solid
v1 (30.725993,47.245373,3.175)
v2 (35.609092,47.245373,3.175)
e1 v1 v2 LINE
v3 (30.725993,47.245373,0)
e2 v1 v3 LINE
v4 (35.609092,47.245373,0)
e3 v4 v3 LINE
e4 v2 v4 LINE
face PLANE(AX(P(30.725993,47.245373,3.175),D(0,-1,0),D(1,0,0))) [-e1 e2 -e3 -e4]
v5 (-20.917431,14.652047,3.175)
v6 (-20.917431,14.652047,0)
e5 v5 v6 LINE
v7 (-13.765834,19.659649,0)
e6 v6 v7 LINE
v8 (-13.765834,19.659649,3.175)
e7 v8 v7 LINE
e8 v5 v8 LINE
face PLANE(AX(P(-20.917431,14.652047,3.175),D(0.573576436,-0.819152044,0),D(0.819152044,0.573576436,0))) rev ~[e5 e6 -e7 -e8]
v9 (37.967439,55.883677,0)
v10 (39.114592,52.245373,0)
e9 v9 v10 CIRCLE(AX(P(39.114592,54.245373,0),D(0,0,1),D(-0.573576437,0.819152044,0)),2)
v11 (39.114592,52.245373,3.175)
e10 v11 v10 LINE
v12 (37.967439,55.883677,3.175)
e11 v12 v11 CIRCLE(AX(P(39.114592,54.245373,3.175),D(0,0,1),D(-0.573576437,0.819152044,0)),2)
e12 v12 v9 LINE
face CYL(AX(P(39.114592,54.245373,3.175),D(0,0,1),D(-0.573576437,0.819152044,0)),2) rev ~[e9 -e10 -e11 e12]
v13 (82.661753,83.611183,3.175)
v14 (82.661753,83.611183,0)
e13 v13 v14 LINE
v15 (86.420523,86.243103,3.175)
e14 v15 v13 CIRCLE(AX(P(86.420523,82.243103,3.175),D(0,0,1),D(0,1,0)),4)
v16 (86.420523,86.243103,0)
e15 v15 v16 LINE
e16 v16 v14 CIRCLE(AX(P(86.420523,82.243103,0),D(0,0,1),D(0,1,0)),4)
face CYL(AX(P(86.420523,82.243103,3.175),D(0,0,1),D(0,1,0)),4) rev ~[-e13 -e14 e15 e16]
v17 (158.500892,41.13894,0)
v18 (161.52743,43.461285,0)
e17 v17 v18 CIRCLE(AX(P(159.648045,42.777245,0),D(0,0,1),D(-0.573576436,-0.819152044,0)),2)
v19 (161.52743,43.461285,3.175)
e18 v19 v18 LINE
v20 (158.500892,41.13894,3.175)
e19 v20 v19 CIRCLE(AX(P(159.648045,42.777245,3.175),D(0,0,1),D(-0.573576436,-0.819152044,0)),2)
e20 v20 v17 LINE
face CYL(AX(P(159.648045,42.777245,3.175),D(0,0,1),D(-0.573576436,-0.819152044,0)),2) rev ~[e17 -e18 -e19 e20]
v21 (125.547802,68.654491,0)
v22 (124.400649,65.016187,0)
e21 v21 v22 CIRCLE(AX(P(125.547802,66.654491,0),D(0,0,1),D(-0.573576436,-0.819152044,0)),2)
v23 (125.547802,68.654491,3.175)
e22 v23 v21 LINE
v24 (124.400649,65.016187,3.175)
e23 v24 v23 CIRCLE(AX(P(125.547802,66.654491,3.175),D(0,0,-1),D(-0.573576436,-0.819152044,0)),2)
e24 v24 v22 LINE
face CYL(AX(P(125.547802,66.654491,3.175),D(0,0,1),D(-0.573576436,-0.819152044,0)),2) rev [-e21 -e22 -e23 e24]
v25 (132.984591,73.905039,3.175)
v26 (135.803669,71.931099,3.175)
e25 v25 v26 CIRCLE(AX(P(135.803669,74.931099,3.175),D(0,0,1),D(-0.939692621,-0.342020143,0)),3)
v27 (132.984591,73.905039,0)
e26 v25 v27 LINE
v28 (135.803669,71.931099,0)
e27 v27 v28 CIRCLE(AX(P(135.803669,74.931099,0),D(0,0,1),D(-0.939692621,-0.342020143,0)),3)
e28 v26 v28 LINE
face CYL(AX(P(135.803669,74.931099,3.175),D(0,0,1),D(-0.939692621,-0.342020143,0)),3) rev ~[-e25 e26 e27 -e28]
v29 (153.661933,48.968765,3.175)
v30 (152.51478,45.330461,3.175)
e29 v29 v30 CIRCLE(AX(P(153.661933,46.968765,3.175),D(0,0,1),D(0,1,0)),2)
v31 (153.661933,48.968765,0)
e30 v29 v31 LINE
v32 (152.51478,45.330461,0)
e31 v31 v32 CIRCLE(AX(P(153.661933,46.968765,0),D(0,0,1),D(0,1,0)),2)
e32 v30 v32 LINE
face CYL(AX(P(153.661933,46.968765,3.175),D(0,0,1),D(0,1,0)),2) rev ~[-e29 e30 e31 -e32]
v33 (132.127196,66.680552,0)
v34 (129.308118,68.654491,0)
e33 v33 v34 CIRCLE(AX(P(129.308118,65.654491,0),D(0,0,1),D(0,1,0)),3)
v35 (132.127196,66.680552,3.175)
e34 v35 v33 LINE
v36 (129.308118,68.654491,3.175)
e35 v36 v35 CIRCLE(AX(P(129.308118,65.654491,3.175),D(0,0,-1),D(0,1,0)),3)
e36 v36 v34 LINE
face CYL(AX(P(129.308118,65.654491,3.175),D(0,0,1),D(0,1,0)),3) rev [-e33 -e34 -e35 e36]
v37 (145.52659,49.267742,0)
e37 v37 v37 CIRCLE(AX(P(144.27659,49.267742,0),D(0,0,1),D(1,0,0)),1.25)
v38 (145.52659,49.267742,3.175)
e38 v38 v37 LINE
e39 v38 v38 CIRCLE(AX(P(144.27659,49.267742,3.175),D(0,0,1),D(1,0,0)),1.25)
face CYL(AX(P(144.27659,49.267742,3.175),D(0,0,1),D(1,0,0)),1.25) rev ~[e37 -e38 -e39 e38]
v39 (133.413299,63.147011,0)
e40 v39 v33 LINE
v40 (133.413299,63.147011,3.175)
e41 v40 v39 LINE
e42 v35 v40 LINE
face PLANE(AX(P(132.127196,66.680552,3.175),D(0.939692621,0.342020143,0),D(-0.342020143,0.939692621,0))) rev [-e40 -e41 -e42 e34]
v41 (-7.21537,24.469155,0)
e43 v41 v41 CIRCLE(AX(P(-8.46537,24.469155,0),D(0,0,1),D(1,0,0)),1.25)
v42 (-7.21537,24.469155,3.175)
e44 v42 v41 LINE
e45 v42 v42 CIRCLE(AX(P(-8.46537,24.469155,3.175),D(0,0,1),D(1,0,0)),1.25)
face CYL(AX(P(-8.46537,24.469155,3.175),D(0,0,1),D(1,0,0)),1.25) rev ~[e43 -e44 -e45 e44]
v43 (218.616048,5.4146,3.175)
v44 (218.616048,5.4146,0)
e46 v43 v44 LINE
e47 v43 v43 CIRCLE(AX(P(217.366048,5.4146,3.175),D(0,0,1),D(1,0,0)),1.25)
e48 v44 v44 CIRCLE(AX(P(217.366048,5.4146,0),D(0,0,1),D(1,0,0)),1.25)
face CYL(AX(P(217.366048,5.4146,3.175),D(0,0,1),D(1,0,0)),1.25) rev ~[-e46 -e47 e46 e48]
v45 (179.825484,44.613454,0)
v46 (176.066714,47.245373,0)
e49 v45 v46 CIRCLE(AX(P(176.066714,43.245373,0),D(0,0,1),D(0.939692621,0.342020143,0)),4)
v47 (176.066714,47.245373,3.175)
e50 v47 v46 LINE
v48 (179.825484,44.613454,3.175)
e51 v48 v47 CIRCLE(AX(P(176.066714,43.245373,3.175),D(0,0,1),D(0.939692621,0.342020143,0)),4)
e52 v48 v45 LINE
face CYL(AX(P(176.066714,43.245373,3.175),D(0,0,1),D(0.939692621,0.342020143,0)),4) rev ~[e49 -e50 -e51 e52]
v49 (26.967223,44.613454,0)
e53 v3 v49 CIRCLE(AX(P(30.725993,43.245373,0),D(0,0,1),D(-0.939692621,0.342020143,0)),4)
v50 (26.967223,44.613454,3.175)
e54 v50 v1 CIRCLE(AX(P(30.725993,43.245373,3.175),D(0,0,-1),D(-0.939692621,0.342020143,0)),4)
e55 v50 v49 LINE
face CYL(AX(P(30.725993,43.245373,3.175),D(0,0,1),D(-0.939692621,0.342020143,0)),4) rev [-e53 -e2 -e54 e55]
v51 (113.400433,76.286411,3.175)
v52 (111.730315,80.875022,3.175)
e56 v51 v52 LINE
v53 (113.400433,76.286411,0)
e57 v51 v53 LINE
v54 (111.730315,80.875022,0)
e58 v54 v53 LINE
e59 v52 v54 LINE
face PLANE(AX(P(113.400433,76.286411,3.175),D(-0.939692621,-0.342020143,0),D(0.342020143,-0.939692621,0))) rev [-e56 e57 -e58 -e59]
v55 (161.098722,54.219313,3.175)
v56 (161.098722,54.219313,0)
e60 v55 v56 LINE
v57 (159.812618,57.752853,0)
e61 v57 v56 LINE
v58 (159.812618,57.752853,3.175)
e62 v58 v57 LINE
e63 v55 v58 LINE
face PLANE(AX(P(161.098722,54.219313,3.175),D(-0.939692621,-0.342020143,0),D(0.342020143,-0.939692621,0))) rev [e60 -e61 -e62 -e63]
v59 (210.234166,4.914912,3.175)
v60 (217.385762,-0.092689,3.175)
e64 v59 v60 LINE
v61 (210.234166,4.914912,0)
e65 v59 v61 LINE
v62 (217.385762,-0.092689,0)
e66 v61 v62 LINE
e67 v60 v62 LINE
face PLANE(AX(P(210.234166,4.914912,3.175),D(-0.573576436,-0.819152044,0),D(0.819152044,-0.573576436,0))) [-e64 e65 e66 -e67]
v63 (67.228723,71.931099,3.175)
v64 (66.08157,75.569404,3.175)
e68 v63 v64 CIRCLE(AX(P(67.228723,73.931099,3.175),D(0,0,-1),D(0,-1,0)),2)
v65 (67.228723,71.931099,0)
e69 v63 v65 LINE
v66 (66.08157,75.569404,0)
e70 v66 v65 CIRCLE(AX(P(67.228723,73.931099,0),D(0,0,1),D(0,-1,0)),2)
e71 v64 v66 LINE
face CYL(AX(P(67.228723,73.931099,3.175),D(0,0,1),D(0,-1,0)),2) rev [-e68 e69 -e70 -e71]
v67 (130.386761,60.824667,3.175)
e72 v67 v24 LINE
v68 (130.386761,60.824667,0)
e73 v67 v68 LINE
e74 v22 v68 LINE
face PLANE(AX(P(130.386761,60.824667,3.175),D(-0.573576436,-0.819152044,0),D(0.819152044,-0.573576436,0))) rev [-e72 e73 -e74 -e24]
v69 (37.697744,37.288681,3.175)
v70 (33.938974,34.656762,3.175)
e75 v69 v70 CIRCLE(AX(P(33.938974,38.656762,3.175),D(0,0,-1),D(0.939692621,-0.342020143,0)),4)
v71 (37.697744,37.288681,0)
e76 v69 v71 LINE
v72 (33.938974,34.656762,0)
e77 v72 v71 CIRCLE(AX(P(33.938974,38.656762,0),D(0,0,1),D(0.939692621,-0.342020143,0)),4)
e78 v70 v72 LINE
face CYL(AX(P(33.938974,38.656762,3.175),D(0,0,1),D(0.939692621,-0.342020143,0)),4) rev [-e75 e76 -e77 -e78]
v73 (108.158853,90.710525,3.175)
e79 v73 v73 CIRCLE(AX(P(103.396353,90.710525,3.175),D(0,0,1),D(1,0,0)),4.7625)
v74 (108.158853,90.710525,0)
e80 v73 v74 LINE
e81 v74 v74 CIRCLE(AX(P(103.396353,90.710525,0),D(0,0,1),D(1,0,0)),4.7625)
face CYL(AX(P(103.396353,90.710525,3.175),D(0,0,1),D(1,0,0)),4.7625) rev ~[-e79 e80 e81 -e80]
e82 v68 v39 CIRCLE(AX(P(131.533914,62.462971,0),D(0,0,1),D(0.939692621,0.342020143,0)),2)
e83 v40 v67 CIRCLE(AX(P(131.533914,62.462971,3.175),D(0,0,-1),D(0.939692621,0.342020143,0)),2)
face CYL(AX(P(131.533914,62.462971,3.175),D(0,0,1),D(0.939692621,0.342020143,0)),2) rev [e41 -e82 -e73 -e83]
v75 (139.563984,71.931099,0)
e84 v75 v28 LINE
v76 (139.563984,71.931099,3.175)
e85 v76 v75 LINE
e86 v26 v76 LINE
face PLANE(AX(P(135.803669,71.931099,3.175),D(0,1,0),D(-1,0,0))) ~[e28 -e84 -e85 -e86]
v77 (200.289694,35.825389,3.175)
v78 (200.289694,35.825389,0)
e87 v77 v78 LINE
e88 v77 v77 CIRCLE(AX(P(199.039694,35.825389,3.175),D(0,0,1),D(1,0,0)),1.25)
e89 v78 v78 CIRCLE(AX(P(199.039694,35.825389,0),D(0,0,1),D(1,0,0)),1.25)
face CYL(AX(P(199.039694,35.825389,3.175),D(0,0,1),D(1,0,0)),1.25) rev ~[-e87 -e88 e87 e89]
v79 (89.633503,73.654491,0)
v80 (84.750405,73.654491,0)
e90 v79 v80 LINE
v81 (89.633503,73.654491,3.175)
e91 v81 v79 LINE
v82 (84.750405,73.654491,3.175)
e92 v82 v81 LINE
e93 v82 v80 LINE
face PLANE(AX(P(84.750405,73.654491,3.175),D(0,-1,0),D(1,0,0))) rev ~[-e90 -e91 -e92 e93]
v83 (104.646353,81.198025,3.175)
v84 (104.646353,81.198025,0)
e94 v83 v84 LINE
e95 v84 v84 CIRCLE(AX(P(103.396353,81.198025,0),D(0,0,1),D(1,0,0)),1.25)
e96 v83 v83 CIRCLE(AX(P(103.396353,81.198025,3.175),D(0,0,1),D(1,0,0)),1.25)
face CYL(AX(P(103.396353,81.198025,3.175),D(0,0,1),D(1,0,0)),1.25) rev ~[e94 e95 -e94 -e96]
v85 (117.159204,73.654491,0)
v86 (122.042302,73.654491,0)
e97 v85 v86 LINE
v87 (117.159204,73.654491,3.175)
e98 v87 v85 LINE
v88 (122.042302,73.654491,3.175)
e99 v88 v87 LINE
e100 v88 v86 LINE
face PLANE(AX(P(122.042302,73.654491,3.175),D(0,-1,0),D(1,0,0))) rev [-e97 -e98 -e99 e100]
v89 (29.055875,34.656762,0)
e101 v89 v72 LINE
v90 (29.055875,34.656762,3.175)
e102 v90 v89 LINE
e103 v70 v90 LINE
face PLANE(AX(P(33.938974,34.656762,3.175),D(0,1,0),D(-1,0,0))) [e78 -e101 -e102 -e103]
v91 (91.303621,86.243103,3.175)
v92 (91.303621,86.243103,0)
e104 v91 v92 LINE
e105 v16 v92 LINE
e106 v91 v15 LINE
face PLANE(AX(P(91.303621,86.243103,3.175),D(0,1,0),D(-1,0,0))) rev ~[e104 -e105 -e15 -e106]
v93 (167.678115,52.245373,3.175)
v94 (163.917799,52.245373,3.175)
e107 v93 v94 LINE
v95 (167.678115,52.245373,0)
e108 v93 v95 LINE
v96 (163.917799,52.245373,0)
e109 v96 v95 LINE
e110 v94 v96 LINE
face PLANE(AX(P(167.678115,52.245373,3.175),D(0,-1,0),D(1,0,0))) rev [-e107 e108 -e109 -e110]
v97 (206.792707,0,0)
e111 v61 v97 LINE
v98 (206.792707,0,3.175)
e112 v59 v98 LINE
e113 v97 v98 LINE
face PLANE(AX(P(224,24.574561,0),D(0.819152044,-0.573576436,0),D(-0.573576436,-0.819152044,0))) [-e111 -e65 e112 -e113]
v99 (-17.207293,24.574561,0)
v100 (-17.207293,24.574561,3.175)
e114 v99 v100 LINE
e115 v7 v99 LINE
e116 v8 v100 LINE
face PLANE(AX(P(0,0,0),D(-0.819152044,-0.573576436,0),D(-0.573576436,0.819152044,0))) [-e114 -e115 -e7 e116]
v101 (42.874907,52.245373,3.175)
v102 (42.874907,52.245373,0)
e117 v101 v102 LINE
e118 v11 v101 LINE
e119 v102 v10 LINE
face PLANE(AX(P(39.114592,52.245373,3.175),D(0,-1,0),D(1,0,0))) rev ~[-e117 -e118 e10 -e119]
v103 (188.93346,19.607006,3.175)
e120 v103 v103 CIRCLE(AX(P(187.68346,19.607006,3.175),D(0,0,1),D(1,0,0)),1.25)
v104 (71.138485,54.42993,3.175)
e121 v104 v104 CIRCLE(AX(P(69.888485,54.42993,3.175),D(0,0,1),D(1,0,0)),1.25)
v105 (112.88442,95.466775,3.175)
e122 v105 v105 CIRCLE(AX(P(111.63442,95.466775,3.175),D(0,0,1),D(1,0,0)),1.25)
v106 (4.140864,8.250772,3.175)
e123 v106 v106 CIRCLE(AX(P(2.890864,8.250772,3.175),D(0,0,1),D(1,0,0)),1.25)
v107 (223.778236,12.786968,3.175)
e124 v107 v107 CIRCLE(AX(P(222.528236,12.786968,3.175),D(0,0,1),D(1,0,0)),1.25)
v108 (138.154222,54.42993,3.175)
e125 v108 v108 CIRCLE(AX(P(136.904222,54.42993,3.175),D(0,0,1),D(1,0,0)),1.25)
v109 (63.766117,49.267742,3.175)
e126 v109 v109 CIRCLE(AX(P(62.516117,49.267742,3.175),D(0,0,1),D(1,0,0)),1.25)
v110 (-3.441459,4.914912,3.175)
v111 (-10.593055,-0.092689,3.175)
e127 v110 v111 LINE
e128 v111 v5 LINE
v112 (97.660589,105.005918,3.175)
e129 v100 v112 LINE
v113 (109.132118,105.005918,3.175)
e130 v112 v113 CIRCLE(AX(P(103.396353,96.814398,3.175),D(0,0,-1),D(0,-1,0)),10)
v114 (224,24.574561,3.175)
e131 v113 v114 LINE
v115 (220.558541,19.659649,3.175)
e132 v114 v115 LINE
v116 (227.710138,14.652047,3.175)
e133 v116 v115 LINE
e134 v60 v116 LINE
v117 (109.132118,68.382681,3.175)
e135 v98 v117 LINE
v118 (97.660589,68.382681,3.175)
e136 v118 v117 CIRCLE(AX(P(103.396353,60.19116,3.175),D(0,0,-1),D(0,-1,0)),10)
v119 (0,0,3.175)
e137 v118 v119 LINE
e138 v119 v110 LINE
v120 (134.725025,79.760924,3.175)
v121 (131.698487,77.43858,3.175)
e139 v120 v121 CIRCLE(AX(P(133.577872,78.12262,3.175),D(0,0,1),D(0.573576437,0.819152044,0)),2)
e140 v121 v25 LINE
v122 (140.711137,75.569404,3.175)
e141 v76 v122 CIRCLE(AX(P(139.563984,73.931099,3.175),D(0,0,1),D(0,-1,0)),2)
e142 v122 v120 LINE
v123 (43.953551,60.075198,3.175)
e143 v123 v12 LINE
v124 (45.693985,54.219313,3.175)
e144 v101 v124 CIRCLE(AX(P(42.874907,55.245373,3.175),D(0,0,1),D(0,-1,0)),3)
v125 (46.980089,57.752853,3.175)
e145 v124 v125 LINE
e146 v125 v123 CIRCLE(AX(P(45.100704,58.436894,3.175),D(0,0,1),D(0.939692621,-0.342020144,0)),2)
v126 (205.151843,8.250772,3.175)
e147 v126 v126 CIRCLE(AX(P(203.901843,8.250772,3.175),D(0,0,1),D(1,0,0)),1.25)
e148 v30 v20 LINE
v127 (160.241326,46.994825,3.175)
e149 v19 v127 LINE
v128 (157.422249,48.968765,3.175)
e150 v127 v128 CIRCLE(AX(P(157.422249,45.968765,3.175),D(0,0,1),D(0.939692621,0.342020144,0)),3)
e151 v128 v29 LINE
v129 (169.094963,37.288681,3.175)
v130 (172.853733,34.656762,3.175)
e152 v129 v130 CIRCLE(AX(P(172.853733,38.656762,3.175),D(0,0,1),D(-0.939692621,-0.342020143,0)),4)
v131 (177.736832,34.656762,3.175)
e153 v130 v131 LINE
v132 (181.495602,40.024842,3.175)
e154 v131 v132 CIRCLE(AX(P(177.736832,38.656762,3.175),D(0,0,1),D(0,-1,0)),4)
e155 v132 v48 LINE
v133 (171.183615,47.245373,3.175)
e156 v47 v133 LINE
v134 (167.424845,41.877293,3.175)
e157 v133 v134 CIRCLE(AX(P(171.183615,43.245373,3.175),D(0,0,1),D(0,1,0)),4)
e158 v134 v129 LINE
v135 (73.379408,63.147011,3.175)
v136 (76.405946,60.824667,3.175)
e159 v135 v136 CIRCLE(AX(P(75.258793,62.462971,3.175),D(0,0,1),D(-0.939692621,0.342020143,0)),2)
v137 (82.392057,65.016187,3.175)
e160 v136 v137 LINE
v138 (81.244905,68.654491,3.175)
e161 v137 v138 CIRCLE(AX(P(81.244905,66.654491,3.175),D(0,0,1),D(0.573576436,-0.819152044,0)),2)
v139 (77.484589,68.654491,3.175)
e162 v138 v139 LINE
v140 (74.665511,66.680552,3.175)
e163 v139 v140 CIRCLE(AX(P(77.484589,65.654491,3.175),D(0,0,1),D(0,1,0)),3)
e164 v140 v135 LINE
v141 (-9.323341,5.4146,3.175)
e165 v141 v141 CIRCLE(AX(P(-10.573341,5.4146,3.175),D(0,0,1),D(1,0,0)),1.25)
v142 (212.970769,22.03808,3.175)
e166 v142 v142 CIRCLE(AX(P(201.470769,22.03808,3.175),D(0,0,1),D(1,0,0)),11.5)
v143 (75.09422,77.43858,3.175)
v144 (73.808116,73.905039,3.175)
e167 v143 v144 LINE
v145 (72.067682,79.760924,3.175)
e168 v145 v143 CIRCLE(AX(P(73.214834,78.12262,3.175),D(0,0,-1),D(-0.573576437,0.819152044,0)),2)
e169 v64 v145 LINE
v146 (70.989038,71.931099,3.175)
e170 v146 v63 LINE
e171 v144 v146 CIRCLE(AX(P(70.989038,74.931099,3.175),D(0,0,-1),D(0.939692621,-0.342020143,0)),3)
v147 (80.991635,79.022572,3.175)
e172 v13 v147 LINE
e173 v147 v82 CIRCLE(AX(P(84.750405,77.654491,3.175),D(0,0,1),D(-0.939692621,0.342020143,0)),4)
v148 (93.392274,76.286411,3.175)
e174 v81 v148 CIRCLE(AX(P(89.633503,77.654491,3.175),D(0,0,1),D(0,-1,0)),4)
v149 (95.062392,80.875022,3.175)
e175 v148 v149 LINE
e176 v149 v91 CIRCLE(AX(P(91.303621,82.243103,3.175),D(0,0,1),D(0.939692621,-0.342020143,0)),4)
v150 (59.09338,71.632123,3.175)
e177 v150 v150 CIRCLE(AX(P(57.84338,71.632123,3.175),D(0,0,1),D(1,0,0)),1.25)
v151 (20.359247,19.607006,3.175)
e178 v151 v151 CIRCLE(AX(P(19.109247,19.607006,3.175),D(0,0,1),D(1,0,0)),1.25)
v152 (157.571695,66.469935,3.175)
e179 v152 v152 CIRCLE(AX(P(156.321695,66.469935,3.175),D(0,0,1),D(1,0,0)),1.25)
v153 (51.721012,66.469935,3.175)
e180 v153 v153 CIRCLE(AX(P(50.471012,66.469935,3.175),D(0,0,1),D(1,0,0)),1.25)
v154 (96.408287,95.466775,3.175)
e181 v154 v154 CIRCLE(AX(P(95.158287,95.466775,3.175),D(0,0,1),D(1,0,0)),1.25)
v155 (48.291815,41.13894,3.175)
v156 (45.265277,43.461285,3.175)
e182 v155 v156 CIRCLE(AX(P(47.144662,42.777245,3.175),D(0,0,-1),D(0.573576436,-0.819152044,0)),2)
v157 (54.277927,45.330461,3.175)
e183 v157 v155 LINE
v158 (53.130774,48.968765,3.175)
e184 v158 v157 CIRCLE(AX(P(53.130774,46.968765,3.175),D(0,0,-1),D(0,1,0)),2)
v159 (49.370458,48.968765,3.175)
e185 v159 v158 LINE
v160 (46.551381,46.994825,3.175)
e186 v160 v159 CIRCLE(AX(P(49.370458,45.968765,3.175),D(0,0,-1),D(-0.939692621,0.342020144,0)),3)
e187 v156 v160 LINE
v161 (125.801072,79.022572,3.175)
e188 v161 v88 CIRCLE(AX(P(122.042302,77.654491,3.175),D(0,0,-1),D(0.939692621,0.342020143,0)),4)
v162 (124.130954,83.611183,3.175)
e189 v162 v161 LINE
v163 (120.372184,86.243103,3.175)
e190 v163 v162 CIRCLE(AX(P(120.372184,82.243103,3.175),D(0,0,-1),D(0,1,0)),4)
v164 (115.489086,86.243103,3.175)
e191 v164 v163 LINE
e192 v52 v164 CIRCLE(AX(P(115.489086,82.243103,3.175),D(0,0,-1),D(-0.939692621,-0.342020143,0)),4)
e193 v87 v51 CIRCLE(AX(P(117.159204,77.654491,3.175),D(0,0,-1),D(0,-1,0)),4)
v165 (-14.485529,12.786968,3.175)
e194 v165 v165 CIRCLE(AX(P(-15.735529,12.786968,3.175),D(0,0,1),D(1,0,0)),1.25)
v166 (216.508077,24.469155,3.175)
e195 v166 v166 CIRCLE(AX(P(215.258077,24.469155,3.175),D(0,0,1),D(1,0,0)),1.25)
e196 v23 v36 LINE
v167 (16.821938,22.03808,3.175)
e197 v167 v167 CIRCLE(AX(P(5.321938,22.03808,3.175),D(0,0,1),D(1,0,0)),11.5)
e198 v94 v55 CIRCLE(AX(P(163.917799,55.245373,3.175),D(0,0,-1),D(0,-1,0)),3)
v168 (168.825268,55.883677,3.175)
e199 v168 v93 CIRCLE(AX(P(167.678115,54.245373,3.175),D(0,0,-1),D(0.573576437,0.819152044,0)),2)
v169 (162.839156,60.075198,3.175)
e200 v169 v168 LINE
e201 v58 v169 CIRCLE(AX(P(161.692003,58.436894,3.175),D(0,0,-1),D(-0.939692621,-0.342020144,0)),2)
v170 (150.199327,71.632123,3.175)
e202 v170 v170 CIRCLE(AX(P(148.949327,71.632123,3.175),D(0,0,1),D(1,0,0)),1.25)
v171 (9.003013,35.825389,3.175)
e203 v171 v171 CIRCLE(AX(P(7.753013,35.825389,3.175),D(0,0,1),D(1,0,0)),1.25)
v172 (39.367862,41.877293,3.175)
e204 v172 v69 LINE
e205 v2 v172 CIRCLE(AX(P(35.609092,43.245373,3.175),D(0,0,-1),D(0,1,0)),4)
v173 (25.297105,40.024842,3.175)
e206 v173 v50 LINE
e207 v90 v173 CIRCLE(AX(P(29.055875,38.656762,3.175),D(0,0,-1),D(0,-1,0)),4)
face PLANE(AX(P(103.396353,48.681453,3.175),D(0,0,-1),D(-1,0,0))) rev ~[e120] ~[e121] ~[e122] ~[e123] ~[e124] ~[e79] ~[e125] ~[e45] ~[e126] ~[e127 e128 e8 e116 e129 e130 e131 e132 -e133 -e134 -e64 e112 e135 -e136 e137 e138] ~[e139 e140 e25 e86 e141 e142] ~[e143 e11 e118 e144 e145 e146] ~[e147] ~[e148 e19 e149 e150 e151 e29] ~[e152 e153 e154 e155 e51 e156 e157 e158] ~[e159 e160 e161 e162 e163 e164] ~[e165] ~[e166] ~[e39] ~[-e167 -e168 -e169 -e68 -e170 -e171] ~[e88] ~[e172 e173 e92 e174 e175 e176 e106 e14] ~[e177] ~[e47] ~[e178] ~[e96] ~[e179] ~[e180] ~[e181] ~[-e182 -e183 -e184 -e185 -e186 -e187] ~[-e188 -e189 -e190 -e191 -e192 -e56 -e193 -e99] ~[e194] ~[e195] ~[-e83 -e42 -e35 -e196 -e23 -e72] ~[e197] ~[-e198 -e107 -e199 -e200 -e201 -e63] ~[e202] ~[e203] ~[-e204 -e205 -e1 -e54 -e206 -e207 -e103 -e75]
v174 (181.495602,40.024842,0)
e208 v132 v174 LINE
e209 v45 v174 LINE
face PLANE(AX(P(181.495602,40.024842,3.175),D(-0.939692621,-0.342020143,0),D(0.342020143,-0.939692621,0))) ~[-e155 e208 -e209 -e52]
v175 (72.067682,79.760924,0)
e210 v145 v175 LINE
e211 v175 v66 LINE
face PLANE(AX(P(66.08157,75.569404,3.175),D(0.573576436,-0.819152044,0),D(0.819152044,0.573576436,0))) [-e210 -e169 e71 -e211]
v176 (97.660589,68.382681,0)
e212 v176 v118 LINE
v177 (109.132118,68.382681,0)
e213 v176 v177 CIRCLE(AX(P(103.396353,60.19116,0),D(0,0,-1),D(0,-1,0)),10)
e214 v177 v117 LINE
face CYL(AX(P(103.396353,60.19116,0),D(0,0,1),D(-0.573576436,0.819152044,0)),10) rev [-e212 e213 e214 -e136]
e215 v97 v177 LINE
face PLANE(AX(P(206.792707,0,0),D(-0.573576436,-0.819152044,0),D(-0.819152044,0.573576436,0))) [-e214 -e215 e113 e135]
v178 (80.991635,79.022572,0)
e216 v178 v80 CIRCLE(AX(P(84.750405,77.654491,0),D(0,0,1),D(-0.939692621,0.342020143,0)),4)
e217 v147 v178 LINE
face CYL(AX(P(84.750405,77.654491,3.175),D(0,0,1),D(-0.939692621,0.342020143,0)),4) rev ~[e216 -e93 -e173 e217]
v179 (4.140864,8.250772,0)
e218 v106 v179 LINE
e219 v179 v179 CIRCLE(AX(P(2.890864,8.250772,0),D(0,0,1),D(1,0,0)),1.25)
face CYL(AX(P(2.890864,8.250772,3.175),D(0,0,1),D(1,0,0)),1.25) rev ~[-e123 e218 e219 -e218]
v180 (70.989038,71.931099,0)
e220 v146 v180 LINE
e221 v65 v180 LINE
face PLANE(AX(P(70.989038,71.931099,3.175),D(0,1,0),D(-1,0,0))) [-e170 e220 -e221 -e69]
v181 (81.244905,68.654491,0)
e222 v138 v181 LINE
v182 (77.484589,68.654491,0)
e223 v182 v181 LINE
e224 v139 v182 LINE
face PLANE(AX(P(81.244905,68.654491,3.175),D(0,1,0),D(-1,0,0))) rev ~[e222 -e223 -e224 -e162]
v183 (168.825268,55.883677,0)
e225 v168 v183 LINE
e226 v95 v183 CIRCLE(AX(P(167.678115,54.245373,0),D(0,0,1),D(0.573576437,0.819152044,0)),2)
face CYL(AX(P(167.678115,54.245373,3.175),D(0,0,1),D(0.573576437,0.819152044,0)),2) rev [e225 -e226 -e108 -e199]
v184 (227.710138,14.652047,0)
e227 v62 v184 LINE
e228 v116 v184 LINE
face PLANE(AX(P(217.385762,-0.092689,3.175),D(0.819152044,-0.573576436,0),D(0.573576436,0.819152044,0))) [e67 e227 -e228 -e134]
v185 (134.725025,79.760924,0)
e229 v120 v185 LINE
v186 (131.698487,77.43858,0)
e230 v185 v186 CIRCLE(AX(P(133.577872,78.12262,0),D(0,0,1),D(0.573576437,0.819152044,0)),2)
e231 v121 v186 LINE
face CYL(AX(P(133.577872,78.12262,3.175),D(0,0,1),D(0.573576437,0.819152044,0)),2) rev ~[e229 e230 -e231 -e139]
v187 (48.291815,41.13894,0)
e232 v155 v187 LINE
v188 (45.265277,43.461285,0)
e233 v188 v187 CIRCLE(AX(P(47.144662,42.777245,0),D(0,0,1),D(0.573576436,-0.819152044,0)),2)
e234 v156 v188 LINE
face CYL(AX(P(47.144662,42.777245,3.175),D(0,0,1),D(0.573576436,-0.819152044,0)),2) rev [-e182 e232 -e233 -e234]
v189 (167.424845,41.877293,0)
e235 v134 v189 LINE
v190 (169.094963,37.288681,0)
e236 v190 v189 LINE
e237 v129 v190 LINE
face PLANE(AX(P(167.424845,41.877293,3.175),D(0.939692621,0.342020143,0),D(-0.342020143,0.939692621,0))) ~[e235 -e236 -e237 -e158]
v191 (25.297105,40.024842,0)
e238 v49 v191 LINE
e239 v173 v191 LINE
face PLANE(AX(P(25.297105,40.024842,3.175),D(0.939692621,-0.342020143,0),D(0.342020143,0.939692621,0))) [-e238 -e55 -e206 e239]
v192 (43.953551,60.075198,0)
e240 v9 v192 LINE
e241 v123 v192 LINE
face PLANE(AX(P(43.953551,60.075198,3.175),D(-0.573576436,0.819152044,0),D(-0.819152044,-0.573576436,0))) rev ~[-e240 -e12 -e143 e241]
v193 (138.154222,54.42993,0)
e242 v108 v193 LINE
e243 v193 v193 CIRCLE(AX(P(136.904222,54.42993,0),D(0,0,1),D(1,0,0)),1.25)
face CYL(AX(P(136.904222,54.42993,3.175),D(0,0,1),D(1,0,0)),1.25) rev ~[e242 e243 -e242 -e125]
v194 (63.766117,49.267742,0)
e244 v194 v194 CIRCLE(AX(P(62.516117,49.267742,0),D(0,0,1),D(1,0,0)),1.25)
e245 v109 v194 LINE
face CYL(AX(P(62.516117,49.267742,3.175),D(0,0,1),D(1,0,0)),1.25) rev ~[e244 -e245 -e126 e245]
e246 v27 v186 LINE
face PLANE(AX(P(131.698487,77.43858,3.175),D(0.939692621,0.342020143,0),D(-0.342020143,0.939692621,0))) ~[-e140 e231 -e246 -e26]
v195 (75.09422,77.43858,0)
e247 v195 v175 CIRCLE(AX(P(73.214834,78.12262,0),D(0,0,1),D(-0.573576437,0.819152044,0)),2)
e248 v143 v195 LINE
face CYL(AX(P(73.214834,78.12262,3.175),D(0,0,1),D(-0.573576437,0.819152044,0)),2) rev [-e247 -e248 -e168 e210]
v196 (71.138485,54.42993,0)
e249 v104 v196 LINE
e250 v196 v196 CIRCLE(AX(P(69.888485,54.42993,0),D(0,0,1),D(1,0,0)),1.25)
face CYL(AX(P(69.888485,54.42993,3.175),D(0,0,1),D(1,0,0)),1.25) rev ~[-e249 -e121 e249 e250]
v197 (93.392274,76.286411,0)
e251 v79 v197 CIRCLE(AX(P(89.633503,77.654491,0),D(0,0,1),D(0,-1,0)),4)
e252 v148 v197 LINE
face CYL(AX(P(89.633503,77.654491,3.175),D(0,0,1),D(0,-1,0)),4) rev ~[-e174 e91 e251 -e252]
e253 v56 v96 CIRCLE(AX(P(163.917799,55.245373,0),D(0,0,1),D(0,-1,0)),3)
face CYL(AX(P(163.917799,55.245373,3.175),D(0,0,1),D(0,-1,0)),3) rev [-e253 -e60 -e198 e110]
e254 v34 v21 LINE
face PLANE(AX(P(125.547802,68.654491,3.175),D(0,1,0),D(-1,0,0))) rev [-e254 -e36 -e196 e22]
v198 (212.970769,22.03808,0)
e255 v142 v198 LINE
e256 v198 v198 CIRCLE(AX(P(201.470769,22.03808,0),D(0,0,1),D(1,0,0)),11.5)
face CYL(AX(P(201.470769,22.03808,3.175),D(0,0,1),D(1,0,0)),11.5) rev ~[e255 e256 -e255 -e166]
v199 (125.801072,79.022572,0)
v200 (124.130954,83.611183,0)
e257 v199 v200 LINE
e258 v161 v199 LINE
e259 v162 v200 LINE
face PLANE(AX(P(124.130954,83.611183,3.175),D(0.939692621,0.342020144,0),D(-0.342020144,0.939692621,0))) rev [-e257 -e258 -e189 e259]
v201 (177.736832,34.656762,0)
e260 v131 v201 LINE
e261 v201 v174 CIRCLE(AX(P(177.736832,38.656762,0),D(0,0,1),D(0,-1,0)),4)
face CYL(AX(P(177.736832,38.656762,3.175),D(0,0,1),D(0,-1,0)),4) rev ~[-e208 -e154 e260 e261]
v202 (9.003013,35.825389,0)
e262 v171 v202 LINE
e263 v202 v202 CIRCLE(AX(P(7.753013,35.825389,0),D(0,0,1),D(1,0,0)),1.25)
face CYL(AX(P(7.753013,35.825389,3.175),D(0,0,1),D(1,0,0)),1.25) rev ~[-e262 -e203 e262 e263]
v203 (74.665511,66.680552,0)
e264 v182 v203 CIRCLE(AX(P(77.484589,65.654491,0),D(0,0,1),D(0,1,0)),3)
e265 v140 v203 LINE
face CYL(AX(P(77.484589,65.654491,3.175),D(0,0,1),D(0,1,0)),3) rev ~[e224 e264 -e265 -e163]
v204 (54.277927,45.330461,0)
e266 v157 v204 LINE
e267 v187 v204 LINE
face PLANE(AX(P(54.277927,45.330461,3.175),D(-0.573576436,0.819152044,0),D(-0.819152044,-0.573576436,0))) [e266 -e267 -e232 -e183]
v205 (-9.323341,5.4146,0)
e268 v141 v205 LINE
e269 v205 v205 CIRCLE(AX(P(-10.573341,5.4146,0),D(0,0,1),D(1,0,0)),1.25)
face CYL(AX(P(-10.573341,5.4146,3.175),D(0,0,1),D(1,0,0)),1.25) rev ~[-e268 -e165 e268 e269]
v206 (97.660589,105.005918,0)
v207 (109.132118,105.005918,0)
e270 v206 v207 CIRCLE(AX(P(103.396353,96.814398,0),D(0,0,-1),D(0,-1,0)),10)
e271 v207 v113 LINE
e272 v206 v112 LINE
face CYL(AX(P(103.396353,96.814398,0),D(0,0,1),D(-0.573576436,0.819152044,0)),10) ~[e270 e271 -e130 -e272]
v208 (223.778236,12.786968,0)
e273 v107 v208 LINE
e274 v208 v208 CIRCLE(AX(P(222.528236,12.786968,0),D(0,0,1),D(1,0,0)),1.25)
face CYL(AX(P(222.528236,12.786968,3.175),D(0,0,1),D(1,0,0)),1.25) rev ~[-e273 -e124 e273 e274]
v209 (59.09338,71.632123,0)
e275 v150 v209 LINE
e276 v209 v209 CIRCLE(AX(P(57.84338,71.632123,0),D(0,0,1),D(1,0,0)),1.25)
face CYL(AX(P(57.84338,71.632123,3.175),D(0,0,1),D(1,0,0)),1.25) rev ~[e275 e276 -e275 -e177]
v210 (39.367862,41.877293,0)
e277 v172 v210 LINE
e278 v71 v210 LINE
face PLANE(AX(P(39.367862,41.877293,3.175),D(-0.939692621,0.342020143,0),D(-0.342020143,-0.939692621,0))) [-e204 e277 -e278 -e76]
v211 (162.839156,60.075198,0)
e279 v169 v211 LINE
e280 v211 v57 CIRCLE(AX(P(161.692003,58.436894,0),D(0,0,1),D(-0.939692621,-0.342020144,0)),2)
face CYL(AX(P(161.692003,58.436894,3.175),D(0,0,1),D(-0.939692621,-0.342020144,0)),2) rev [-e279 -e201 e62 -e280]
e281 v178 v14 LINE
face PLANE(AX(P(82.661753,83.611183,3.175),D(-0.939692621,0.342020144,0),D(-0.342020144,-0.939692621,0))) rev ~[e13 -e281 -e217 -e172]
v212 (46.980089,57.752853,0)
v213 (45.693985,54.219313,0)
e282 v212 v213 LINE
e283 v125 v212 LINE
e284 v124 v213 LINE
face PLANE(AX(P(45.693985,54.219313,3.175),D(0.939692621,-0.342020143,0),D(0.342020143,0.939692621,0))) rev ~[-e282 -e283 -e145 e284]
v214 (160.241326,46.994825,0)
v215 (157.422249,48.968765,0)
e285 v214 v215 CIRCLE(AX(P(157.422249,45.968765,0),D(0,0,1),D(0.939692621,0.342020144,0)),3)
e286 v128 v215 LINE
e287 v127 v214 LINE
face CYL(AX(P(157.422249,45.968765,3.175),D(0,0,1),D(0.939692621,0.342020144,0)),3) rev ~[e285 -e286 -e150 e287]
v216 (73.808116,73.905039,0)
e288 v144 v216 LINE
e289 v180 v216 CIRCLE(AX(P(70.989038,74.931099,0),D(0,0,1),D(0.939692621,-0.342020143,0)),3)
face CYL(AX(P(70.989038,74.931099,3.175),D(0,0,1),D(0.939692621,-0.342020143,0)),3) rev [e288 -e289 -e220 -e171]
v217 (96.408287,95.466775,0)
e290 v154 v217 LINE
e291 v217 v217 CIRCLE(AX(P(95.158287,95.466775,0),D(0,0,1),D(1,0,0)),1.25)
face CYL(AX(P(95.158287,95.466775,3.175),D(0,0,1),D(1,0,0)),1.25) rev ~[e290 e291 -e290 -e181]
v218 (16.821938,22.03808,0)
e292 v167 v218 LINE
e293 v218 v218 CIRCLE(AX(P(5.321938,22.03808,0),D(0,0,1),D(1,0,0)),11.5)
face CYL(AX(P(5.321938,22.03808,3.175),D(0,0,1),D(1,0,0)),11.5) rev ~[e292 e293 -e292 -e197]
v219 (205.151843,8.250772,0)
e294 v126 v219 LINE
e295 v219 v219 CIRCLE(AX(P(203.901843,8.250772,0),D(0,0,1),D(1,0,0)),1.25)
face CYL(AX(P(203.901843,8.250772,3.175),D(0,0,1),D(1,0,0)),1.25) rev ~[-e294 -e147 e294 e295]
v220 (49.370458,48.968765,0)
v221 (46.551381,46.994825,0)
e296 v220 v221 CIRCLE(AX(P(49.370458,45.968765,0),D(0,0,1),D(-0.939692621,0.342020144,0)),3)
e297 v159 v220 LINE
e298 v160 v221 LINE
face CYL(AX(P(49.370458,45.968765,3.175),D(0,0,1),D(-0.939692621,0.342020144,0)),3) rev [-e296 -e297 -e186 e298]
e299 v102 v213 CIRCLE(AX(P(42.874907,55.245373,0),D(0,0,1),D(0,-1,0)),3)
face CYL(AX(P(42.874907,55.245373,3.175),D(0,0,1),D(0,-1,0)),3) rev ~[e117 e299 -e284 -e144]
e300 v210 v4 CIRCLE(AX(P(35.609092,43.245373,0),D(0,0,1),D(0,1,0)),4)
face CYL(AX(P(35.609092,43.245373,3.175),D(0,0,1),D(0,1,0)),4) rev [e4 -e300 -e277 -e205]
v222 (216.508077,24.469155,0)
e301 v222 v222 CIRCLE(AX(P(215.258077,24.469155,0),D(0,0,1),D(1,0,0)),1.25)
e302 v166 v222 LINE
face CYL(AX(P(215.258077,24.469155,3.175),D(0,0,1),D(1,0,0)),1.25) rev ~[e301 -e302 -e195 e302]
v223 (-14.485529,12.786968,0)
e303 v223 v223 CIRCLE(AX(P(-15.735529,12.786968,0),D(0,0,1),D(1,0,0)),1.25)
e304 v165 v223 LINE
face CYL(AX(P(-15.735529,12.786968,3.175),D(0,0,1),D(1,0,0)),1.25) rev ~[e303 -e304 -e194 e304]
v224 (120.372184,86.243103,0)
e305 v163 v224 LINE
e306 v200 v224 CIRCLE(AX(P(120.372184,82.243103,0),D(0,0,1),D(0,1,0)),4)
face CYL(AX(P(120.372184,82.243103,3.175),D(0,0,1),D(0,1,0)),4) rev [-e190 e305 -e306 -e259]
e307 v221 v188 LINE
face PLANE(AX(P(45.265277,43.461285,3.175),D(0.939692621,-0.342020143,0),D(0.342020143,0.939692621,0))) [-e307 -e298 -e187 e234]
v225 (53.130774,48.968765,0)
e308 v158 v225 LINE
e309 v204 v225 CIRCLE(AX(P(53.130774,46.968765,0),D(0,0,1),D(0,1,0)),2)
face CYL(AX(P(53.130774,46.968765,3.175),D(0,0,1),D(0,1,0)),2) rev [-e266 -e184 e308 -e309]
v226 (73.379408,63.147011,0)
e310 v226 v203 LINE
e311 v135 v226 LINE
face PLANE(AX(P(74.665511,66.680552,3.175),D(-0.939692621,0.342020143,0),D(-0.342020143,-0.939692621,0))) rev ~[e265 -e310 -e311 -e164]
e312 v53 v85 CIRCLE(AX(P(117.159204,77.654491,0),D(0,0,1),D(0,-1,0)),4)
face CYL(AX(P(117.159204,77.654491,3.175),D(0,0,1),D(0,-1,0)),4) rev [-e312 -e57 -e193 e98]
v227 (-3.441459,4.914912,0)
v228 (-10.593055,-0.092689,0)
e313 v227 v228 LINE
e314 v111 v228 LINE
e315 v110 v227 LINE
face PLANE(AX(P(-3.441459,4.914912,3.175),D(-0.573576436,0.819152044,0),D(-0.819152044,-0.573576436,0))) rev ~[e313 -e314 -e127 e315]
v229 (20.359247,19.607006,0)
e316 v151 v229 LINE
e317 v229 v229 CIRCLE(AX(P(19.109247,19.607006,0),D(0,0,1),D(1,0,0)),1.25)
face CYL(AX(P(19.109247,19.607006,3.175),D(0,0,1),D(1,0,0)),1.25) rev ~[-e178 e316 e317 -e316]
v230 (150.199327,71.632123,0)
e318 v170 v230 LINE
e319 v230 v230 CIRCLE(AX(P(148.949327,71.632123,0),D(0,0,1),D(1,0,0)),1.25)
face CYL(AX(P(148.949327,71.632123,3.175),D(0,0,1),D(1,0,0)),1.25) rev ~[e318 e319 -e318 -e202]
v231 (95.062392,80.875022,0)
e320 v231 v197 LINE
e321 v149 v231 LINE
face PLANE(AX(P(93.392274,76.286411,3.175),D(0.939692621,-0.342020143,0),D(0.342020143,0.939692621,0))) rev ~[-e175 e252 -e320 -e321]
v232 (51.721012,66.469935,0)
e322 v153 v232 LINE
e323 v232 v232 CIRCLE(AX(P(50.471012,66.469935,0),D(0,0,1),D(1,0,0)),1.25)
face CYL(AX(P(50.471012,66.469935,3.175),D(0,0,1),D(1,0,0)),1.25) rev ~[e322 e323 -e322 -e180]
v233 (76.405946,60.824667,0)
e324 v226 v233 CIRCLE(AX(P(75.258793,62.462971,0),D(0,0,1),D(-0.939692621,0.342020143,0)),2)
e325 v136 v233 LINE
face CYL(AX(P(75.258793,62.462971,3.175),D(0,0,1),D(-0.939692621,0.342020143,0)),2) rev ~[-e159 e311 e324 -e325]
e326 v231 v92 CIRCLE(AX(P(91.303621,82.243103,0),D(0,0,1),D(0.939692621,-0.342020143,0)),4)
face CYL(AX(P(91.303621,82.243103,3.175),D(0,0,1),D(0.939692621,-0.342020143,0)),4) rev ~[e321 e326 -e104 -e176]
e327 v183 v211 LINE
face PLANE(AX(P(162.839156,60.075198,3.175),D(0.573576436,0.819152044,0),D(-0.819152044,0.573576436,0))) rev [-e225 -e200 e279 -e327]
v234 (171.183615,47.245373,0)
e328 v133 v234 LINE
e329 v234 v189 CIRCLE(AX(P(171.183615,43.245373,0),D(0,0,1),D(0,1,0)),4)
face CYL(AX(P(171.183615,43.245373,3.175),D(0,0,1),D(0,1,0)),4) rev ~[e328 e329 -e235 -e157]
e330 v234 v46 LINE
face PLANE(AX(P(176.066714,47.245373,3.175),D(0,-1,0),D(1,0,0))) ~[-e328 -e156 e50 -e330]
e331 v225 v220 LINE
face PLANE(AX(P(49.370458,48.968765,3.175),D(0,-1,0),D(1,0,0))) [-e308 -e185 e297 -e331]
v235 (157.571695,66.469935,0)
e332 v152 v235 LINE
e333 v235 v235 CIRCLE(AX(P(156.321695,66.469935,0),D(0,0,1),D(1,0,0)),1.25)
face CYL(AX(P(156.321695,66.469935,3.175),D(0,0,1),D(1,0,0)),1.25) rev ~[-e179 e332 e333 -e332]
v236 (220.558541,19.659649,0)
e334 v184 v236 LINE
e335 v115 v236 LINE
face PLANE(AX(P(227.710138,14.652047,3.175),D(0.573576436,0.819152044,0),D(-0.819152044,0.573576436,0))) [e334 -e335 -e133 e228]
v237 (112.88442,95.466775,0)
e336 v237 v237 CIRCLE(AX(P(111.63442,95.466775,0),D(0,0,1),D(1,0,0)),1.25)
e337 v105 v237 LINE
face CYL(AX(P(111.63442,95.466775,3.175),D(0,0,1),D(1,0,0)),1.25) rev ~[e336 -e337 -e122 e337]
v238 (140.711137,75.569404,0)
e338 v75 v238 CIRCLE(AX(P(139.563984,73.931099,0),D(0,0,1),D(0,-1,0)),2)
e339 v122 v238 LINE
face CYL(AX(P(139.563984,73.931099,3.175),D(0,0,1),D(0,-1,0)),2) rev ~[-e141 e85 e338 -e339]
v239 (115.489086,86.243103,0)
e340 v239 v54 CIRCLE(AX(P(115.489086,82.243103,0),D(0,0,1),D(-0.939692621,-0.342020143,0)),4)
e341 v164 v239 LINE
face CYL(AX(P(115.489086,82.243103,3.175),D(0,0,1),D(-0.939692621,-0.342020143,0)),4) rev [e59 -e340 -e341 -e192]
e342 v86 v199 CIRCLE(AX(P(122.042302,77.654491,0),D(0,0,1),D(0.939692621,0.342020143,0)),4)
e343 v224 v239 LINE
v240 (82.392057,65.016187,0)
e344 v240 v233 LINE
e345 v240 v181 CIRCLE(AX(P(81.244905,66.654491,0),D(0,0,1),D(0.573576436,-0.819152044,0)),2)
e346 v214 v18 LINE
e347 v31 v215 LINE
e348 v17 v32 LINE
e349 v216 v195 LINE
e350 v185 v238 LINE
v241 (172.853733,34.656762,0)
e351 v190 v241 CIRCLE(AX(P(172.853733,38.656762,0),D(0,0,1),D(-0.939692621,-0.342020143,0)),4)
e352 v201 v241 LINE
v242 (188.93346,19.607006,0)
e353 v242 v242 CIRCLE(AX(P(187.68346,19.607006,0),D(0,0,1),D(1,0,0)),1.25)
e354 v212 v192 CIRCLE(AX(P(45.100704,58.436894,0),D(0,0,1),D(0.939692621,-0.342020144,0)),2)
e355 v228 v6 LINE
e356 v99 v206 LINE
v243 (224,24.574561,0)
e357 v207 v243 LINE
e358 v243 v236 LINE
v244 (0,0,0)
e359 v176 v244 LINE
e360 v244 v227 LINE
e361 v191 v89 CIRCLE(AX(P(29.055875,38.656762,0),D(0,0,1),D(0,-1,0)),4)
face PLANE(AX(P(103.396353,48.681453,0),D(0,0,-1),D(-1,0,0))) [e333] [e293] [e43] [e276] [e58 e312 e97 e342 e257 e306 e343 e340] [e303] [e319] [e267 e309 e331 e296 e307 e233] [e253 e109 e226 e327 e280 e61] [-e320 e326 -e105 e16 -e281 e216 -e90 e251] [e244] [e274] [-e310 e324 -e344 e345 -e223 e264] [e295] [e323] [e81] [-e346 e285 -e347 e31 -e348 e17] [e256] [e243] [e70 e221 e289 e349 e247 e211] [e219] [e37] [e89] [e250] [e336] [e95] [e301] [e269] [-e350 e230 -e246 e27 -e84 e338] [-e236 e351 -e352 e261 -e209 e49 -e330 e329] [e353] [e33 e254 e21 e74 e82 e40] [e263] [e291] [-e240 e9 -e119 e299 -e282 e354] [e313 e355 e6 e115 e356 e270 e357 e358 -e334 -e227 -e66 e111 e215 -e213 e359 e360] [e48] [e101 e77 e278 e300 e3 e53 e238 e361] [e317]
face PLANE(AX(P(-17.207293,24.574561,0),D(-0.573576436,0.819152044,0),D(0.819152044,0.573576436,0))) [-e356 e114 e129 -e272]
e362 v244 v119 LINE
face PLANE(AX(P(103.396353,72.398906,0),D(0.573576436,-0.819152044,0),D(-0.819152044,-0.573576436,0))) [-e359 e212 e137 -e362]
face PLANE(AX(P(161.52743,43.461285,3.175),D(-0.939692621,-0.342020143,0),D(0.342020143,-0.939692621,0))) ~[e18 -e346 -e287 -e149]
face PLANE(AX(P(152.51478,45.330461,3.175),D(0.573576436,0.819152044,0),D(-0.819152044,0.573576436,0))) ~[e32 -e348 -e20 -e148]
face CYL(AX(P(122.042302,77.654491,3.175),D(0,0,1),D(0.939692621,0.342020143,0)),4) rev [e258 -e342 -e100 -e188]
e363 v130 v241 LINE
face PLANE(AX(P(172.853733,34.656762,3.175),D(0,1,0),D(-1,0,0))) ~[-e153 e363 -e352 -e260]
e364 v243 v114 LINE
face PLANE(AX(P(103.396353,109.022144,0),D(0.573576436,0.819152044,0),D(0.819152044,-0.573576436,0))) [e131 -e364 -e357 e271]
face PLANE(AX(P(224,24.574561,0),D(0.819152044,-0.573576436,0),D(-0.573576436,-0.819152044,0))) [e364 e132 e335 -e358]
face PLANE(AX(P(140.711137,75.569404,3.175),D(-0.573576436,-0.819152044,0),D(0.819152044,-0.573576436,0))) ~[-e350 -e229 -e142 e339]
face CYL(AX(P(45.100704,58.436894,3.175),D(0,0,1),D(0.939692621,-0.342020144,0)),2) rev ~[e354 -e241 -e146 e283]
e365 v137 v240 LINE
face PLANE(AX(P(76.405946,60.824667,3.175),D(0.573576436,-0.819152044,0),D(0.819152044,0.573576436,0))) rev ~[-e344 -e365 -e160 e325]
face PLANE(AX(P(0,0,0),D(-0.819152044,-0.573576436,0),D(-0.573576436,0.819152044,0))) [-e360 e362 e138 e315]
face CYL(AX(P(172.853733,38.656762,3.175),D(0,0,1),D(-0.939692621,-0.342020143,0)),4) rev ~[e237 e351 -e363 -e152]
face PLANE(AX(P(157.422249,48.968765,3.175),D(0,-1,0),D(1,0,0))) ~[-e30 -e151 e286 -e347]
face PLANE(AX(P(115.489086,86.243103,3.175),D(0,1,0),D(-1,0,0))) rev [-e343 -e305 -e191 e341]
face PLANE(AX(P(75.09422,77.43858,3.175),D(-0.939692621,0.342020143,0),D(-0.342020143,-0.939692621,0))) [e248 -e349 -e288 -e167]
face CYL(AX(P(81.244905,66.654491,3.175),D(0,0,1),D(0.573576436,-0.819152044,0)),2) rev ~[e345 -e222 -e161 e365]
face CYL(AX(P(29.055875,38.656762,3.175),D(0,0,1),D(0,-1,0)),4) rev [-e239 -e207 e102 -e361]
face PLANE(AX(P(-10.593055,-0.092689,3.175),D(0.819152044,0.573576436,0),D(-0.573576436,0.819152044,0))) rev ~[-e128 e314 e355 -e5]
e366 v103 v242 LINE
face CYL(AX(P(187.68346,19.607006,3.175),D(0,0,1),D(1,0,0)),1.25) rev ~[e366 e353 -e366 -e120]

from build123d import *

# Parameters (mm, degrees)
BASE_DEPTH           = 3.175
SKETCH3_R            = 4.7625
SKETCH3_R_2          = 1.25
FASTENERS_DEPTH      = 4.175
FILLET1_R            = 10
TOPOLOGY_HOLES_DEPTH = 4.175
SKETCH6_R            = 1.25
SUPPORTS_DEPTH       = 4.175
SKETCH8_R            = 11.5
SKETCH8_R_2          = 1.25
MOTOR_PLATE_DEPTH    = 4.175
SKETCH12_R           = 1.25
PLATE_SUPPORT_DEPTH  = 3.175


with BuildPart() as part:
    # Base Sketch → Base (new body)
    with BuildSketch(Plane.XY):
        Polygon((0, 0), (-17.207293091, 24.574561329), (103.396353455, 109.022143775), (224, 24.574561329), (206.792706909, 0), (103.396353455, 72.398906112), align=None)
    extrude(amount=BASE_DEPTH)

    # Sketch3 → Fasteners (cut, through all)
    with BuildSketch(Plane.XY.offset(3.175)):
        with Locations((103.396353455, 90.710524944)):
            Circle(SKETCH3_R)
        with Locations((103.396353455, 81.198024944)):
            Circle(SKETCH3_R_2)
        with Locations((111.634420108, 95.466774944)):
            Circle(SKETCH3_R_2)
        with Locations((95.158286801, 95.466774944)):
            Circle(SKETCH3_R_2)
    extrude(amount=-FASTENERS_DEPTH, mode=Mode.SUBTRACT)

    # Fillet1
    fillet1_edges = [part.edges().sort_by_distance(p)[0] for p in [
        (103.396353455, 109.022143775, 1.5875),
        (103.396353455, 72.398906112, 1.5875),
    ]]
    fillet(fillet1_edges, radius=FILLET1_R)

    # Sketch5 → Topology Holes (cut, through all)
    with BuildSketch(Plane.XY.offset(3.175)):
        with BuildLine():
            Line((45.265276935, 43.461284839), (46.55138053, 46.994825426))
            ThreePointArc((46.55138053, 46.994825426), (47.649729084, 48.426221129), (49.370458393, 48.968764996))
            Line((49.370458393, 48.968764996), (53.130773743, 48.968764996))
            ThreePointArc((53.130773743, 48.968764996), (55.038207644, 47.570176595), (54.277926615, 45.330460907))
            Line((54.277926615, 45.330460907), (48.29181505, 41.138940464))
            ThreePointArc((48.29181505, 41.138940464), (45.927139319, 41.190537872), (45.265276935, 43.461284839))
        make_face()
        with BuildLine():
            Line((33.938973564, 34.656761682), (29.055875209, 34.656761682))
            ThreePointArc((29.055875209, 34.656761682), (25.779267032, 36.362455937), (25.297104726, 40.024842255))
            Line((25.297104726, 40.024842255), (26.967222725, 44.613453746))
            ThreePointArc((26.967222725, 44.613453746), (28.431687463, 46.52198135), (30.725993208, 47.245373173))
            Line((30.725993208, 47.245373173), (35.609091563, 47.245373173))
            ThreePointArc((35.609091563, 47.245373173), (38.88569974, 45.539678918), (39.367862046, 41.8772926))
            Line((39.367862046, 41.8772926), (37.697744047, 37.288681109))
            ThreePointArc((37.697744047, 37.288681109), (36.233279309, 35.380153505), (33.938973564, 34.656761682))
        make_face()
        with BuildLine():
            Line((45.69398528, 54.219312743), (46.980088875, 57.752853329))
            ThreePointArc((46.980088875, 57.752853329), (46.318226492, 60.023600296), (43.953550761, 60.075197704))
            Line((43.953550761, 60.075197704), (37.967439195, 55.883677261))
            ThreePointArc((37.967439195, 55.883677261), (37.207158167, 53.643961574), (39.114592068, 52.245373173))
            Line((39.114592068, 52.245373173), (42.874907418, 52.245373173))
            ThreePointArc((42.874907418, 52.245373173), (44.595636727, 52.78791704), (45.69398528, 54.219312743))
        make_face()
        with BuildLine():
            Line((84.750405047, 73.654491311), (89.633503402, 73.654491311))
            ThreePointArc((89.633503402, 73.654491311), (91.927809147, 74.377883134), (93.392273885, 76.286410738))
            Line((93.392273885, 76.286410738), (95.062391884, 80.875022229))
            ThreePointArc((95.062391884, 80.875022229), (94.580229578, 84.537408548), (91.303621401, 86.243102802))
            Line((91.303621401, 86.243102802), (86.420523046, 86.243102802))
            ThreePointArc((86.420523046, 86.243102802), (84.1262173, 85.519710979), (82.661752563, 83.611183375))
            Line((82.661752563, 83.611183375), (80.991634563, 79.022571885))
            ThreePointArc((80.991634563, 79.022571885), (81.473796869, 75.360185566), (84.750405047, 73.654491311))
        make_face()
        with BuildLine():
            Line((75.094219674, 77.438579645), (73.808116079, 73.905039059))
            ThreePointArc((73.808116079, 73.905039059), (72.709767526, 72.473643356), (70.989038217, 71.931099489))
            Line((70.989038217, 71.931099489), (67.228722867, 71.931099489))
            ThreePointArc((67.228722867, 71.931099489), (65.321288966, 73.32968789), (66.081569994, 75.569403577))
            Line((66.081569994, 75.569403577), (72.06768156, 79.76092402))
            ThreePointArc((72.06768156, 79.76092402), (74.432357291, 79.709326612), (75.094219674, 77.438579645))
        make_face()
        with BuildLine():
            Line((74.665511329, 66.680551741), (73.379407734, 63.147011155))
            ThreePointArc((73.379407734, 63.147011155), (74.041270118, 60.876264188), (76.405945849, 60.82466678))
            Line((76.405945849, 60.82466678), (82.392057414, 65.016187223))
            ThreePointArc((82.392057414, 65.016187223), (83.152338443, 67.25590291), (81.244904542, 68.654491311))
            Line((81.244904542, 68.654491311), (77.484589192, 68.654491311))
            ThreePointArc((77.484589192, 68.654491311), (75.763859883, 68.111947444), (74.665511329, 66.680551741))
        make_face()
    topology_holes = extrude(amount=-TOPOLOGY_HOLES_DEPTH, mode=Mode.SUBTRACT)

    # Sketch6 → Supports (cut, through all)
    with BuildSketch(Plane.XY.offset(3.175)):
        with Locations((69.888485086, 54.429929741)):
            Circle(SKETCH6_R)
        with Locations((62.516116687, 49.267741813)):
            Circle(SKETCH6_R)
        with Locations((50.471011524, 66.469934744)):
            Circle(SKETCH6_R)
        with Locations((57.843379923, 71.632122671)):
            Circle(SKETCH6_R)
        with Locations((148.949326987, 71.632122671)):
            Circle(SKETCH6_R)
        with Locations((156.321695386, 66.469934744)):
            Circle(SKETCH6_R)
        with Locations((144.276590222, 49.267741813)):
            Circle(SKETCH6_R)
        with Locations((136.904221824, 54.429929741)):
            Circle(SKETCH6_R)
    extrude(amount=-SUPPORTS_DEPTH, mode=Mode.SUBTRACT)

    # Mirror1: Topology Holes across plane
    add(topology_holes.mirror(Plane(origin=(103.396353455, 0, 0), x_dir=(0, 0, 1), z_dir=(1, 0, 0))), mode=Mode.SUBTRACT)

    # Sketch8 → Motor Plate (cut, through all)
    with BuildSketch(Plane.XY.offset(3.175)):
        with Locations((5.321938208, 22.038080082)):
            Circle(SKETCH8_R)
        with Locations((-8.465370335, 24.46915457)):
            Circle(SKETCH8_R_2)
        with Locations((7.753012695, 35.825388624)):
            Circle(SKETCH8_R_2)
        with Locations((19.10924675, 19.607005595)):
            Circle(SKETCH8_R_2)
        with Locations((2.89086372, 8.25077154)):
            Circle(SKETCH8_R_2)
        with Locations((203.901843189, 8.25077154)):
            Circle(SKETCH8_R_2)
        with Locations((215.258077244, 24.46915457)):
            Circle(SKETCH8_R_2)
        with Locations((199.039694214, 35.825388624)):
            Circle(SKETCH8_R_2)
        with Locations((187.68346016, 19.607005595)):
            Circle(SKETCH8_R_2)
        with Locations((201.470768702, 22.038080082)):
            Circle(SKETCH8_R)
    extrude(amount=-MOTOR_PLATE_DEPTH, mode=Mode.SUBTRACT)

    # Sketch12 → Plate Support (add)
    with BuildSketch(Plane.XY.offset(3.175)):
        Polygon((-3.441458618, 4.914912266), (-10.593055004, -0.092689434), (-20.917430859, 14.652047363), (-13.765834472, 19.659649063), align=None)
        with Locations((-10.573341227, 5.414599951)):
            Circle(SKETCH12_R, mode=Mode.SUBTRACT)
        with Locations((-15.735529154, 12.786968349)):
            Circle(SKETCH12_R, mode=Mode.SUBTRACT)
        Polygon((210.234165528, 4.914912266), (217.385761914, -0.092689434), (227.710137768, 14.652047363), (220.558541382, 19.659649063), align=None)
        with Locations((217.366048137, 5.414599951)):
            Circle(SKETCH12_R, mode=Mode.SUBTRACT)
        with Locations((222.528236064, 12.786968349)):
            Circle(SKETCH12_R, mode=Mode.SUBTRACT)
    extrude(amount=-PLATE_SUPPORT_DEPTH)


solid = part.part
